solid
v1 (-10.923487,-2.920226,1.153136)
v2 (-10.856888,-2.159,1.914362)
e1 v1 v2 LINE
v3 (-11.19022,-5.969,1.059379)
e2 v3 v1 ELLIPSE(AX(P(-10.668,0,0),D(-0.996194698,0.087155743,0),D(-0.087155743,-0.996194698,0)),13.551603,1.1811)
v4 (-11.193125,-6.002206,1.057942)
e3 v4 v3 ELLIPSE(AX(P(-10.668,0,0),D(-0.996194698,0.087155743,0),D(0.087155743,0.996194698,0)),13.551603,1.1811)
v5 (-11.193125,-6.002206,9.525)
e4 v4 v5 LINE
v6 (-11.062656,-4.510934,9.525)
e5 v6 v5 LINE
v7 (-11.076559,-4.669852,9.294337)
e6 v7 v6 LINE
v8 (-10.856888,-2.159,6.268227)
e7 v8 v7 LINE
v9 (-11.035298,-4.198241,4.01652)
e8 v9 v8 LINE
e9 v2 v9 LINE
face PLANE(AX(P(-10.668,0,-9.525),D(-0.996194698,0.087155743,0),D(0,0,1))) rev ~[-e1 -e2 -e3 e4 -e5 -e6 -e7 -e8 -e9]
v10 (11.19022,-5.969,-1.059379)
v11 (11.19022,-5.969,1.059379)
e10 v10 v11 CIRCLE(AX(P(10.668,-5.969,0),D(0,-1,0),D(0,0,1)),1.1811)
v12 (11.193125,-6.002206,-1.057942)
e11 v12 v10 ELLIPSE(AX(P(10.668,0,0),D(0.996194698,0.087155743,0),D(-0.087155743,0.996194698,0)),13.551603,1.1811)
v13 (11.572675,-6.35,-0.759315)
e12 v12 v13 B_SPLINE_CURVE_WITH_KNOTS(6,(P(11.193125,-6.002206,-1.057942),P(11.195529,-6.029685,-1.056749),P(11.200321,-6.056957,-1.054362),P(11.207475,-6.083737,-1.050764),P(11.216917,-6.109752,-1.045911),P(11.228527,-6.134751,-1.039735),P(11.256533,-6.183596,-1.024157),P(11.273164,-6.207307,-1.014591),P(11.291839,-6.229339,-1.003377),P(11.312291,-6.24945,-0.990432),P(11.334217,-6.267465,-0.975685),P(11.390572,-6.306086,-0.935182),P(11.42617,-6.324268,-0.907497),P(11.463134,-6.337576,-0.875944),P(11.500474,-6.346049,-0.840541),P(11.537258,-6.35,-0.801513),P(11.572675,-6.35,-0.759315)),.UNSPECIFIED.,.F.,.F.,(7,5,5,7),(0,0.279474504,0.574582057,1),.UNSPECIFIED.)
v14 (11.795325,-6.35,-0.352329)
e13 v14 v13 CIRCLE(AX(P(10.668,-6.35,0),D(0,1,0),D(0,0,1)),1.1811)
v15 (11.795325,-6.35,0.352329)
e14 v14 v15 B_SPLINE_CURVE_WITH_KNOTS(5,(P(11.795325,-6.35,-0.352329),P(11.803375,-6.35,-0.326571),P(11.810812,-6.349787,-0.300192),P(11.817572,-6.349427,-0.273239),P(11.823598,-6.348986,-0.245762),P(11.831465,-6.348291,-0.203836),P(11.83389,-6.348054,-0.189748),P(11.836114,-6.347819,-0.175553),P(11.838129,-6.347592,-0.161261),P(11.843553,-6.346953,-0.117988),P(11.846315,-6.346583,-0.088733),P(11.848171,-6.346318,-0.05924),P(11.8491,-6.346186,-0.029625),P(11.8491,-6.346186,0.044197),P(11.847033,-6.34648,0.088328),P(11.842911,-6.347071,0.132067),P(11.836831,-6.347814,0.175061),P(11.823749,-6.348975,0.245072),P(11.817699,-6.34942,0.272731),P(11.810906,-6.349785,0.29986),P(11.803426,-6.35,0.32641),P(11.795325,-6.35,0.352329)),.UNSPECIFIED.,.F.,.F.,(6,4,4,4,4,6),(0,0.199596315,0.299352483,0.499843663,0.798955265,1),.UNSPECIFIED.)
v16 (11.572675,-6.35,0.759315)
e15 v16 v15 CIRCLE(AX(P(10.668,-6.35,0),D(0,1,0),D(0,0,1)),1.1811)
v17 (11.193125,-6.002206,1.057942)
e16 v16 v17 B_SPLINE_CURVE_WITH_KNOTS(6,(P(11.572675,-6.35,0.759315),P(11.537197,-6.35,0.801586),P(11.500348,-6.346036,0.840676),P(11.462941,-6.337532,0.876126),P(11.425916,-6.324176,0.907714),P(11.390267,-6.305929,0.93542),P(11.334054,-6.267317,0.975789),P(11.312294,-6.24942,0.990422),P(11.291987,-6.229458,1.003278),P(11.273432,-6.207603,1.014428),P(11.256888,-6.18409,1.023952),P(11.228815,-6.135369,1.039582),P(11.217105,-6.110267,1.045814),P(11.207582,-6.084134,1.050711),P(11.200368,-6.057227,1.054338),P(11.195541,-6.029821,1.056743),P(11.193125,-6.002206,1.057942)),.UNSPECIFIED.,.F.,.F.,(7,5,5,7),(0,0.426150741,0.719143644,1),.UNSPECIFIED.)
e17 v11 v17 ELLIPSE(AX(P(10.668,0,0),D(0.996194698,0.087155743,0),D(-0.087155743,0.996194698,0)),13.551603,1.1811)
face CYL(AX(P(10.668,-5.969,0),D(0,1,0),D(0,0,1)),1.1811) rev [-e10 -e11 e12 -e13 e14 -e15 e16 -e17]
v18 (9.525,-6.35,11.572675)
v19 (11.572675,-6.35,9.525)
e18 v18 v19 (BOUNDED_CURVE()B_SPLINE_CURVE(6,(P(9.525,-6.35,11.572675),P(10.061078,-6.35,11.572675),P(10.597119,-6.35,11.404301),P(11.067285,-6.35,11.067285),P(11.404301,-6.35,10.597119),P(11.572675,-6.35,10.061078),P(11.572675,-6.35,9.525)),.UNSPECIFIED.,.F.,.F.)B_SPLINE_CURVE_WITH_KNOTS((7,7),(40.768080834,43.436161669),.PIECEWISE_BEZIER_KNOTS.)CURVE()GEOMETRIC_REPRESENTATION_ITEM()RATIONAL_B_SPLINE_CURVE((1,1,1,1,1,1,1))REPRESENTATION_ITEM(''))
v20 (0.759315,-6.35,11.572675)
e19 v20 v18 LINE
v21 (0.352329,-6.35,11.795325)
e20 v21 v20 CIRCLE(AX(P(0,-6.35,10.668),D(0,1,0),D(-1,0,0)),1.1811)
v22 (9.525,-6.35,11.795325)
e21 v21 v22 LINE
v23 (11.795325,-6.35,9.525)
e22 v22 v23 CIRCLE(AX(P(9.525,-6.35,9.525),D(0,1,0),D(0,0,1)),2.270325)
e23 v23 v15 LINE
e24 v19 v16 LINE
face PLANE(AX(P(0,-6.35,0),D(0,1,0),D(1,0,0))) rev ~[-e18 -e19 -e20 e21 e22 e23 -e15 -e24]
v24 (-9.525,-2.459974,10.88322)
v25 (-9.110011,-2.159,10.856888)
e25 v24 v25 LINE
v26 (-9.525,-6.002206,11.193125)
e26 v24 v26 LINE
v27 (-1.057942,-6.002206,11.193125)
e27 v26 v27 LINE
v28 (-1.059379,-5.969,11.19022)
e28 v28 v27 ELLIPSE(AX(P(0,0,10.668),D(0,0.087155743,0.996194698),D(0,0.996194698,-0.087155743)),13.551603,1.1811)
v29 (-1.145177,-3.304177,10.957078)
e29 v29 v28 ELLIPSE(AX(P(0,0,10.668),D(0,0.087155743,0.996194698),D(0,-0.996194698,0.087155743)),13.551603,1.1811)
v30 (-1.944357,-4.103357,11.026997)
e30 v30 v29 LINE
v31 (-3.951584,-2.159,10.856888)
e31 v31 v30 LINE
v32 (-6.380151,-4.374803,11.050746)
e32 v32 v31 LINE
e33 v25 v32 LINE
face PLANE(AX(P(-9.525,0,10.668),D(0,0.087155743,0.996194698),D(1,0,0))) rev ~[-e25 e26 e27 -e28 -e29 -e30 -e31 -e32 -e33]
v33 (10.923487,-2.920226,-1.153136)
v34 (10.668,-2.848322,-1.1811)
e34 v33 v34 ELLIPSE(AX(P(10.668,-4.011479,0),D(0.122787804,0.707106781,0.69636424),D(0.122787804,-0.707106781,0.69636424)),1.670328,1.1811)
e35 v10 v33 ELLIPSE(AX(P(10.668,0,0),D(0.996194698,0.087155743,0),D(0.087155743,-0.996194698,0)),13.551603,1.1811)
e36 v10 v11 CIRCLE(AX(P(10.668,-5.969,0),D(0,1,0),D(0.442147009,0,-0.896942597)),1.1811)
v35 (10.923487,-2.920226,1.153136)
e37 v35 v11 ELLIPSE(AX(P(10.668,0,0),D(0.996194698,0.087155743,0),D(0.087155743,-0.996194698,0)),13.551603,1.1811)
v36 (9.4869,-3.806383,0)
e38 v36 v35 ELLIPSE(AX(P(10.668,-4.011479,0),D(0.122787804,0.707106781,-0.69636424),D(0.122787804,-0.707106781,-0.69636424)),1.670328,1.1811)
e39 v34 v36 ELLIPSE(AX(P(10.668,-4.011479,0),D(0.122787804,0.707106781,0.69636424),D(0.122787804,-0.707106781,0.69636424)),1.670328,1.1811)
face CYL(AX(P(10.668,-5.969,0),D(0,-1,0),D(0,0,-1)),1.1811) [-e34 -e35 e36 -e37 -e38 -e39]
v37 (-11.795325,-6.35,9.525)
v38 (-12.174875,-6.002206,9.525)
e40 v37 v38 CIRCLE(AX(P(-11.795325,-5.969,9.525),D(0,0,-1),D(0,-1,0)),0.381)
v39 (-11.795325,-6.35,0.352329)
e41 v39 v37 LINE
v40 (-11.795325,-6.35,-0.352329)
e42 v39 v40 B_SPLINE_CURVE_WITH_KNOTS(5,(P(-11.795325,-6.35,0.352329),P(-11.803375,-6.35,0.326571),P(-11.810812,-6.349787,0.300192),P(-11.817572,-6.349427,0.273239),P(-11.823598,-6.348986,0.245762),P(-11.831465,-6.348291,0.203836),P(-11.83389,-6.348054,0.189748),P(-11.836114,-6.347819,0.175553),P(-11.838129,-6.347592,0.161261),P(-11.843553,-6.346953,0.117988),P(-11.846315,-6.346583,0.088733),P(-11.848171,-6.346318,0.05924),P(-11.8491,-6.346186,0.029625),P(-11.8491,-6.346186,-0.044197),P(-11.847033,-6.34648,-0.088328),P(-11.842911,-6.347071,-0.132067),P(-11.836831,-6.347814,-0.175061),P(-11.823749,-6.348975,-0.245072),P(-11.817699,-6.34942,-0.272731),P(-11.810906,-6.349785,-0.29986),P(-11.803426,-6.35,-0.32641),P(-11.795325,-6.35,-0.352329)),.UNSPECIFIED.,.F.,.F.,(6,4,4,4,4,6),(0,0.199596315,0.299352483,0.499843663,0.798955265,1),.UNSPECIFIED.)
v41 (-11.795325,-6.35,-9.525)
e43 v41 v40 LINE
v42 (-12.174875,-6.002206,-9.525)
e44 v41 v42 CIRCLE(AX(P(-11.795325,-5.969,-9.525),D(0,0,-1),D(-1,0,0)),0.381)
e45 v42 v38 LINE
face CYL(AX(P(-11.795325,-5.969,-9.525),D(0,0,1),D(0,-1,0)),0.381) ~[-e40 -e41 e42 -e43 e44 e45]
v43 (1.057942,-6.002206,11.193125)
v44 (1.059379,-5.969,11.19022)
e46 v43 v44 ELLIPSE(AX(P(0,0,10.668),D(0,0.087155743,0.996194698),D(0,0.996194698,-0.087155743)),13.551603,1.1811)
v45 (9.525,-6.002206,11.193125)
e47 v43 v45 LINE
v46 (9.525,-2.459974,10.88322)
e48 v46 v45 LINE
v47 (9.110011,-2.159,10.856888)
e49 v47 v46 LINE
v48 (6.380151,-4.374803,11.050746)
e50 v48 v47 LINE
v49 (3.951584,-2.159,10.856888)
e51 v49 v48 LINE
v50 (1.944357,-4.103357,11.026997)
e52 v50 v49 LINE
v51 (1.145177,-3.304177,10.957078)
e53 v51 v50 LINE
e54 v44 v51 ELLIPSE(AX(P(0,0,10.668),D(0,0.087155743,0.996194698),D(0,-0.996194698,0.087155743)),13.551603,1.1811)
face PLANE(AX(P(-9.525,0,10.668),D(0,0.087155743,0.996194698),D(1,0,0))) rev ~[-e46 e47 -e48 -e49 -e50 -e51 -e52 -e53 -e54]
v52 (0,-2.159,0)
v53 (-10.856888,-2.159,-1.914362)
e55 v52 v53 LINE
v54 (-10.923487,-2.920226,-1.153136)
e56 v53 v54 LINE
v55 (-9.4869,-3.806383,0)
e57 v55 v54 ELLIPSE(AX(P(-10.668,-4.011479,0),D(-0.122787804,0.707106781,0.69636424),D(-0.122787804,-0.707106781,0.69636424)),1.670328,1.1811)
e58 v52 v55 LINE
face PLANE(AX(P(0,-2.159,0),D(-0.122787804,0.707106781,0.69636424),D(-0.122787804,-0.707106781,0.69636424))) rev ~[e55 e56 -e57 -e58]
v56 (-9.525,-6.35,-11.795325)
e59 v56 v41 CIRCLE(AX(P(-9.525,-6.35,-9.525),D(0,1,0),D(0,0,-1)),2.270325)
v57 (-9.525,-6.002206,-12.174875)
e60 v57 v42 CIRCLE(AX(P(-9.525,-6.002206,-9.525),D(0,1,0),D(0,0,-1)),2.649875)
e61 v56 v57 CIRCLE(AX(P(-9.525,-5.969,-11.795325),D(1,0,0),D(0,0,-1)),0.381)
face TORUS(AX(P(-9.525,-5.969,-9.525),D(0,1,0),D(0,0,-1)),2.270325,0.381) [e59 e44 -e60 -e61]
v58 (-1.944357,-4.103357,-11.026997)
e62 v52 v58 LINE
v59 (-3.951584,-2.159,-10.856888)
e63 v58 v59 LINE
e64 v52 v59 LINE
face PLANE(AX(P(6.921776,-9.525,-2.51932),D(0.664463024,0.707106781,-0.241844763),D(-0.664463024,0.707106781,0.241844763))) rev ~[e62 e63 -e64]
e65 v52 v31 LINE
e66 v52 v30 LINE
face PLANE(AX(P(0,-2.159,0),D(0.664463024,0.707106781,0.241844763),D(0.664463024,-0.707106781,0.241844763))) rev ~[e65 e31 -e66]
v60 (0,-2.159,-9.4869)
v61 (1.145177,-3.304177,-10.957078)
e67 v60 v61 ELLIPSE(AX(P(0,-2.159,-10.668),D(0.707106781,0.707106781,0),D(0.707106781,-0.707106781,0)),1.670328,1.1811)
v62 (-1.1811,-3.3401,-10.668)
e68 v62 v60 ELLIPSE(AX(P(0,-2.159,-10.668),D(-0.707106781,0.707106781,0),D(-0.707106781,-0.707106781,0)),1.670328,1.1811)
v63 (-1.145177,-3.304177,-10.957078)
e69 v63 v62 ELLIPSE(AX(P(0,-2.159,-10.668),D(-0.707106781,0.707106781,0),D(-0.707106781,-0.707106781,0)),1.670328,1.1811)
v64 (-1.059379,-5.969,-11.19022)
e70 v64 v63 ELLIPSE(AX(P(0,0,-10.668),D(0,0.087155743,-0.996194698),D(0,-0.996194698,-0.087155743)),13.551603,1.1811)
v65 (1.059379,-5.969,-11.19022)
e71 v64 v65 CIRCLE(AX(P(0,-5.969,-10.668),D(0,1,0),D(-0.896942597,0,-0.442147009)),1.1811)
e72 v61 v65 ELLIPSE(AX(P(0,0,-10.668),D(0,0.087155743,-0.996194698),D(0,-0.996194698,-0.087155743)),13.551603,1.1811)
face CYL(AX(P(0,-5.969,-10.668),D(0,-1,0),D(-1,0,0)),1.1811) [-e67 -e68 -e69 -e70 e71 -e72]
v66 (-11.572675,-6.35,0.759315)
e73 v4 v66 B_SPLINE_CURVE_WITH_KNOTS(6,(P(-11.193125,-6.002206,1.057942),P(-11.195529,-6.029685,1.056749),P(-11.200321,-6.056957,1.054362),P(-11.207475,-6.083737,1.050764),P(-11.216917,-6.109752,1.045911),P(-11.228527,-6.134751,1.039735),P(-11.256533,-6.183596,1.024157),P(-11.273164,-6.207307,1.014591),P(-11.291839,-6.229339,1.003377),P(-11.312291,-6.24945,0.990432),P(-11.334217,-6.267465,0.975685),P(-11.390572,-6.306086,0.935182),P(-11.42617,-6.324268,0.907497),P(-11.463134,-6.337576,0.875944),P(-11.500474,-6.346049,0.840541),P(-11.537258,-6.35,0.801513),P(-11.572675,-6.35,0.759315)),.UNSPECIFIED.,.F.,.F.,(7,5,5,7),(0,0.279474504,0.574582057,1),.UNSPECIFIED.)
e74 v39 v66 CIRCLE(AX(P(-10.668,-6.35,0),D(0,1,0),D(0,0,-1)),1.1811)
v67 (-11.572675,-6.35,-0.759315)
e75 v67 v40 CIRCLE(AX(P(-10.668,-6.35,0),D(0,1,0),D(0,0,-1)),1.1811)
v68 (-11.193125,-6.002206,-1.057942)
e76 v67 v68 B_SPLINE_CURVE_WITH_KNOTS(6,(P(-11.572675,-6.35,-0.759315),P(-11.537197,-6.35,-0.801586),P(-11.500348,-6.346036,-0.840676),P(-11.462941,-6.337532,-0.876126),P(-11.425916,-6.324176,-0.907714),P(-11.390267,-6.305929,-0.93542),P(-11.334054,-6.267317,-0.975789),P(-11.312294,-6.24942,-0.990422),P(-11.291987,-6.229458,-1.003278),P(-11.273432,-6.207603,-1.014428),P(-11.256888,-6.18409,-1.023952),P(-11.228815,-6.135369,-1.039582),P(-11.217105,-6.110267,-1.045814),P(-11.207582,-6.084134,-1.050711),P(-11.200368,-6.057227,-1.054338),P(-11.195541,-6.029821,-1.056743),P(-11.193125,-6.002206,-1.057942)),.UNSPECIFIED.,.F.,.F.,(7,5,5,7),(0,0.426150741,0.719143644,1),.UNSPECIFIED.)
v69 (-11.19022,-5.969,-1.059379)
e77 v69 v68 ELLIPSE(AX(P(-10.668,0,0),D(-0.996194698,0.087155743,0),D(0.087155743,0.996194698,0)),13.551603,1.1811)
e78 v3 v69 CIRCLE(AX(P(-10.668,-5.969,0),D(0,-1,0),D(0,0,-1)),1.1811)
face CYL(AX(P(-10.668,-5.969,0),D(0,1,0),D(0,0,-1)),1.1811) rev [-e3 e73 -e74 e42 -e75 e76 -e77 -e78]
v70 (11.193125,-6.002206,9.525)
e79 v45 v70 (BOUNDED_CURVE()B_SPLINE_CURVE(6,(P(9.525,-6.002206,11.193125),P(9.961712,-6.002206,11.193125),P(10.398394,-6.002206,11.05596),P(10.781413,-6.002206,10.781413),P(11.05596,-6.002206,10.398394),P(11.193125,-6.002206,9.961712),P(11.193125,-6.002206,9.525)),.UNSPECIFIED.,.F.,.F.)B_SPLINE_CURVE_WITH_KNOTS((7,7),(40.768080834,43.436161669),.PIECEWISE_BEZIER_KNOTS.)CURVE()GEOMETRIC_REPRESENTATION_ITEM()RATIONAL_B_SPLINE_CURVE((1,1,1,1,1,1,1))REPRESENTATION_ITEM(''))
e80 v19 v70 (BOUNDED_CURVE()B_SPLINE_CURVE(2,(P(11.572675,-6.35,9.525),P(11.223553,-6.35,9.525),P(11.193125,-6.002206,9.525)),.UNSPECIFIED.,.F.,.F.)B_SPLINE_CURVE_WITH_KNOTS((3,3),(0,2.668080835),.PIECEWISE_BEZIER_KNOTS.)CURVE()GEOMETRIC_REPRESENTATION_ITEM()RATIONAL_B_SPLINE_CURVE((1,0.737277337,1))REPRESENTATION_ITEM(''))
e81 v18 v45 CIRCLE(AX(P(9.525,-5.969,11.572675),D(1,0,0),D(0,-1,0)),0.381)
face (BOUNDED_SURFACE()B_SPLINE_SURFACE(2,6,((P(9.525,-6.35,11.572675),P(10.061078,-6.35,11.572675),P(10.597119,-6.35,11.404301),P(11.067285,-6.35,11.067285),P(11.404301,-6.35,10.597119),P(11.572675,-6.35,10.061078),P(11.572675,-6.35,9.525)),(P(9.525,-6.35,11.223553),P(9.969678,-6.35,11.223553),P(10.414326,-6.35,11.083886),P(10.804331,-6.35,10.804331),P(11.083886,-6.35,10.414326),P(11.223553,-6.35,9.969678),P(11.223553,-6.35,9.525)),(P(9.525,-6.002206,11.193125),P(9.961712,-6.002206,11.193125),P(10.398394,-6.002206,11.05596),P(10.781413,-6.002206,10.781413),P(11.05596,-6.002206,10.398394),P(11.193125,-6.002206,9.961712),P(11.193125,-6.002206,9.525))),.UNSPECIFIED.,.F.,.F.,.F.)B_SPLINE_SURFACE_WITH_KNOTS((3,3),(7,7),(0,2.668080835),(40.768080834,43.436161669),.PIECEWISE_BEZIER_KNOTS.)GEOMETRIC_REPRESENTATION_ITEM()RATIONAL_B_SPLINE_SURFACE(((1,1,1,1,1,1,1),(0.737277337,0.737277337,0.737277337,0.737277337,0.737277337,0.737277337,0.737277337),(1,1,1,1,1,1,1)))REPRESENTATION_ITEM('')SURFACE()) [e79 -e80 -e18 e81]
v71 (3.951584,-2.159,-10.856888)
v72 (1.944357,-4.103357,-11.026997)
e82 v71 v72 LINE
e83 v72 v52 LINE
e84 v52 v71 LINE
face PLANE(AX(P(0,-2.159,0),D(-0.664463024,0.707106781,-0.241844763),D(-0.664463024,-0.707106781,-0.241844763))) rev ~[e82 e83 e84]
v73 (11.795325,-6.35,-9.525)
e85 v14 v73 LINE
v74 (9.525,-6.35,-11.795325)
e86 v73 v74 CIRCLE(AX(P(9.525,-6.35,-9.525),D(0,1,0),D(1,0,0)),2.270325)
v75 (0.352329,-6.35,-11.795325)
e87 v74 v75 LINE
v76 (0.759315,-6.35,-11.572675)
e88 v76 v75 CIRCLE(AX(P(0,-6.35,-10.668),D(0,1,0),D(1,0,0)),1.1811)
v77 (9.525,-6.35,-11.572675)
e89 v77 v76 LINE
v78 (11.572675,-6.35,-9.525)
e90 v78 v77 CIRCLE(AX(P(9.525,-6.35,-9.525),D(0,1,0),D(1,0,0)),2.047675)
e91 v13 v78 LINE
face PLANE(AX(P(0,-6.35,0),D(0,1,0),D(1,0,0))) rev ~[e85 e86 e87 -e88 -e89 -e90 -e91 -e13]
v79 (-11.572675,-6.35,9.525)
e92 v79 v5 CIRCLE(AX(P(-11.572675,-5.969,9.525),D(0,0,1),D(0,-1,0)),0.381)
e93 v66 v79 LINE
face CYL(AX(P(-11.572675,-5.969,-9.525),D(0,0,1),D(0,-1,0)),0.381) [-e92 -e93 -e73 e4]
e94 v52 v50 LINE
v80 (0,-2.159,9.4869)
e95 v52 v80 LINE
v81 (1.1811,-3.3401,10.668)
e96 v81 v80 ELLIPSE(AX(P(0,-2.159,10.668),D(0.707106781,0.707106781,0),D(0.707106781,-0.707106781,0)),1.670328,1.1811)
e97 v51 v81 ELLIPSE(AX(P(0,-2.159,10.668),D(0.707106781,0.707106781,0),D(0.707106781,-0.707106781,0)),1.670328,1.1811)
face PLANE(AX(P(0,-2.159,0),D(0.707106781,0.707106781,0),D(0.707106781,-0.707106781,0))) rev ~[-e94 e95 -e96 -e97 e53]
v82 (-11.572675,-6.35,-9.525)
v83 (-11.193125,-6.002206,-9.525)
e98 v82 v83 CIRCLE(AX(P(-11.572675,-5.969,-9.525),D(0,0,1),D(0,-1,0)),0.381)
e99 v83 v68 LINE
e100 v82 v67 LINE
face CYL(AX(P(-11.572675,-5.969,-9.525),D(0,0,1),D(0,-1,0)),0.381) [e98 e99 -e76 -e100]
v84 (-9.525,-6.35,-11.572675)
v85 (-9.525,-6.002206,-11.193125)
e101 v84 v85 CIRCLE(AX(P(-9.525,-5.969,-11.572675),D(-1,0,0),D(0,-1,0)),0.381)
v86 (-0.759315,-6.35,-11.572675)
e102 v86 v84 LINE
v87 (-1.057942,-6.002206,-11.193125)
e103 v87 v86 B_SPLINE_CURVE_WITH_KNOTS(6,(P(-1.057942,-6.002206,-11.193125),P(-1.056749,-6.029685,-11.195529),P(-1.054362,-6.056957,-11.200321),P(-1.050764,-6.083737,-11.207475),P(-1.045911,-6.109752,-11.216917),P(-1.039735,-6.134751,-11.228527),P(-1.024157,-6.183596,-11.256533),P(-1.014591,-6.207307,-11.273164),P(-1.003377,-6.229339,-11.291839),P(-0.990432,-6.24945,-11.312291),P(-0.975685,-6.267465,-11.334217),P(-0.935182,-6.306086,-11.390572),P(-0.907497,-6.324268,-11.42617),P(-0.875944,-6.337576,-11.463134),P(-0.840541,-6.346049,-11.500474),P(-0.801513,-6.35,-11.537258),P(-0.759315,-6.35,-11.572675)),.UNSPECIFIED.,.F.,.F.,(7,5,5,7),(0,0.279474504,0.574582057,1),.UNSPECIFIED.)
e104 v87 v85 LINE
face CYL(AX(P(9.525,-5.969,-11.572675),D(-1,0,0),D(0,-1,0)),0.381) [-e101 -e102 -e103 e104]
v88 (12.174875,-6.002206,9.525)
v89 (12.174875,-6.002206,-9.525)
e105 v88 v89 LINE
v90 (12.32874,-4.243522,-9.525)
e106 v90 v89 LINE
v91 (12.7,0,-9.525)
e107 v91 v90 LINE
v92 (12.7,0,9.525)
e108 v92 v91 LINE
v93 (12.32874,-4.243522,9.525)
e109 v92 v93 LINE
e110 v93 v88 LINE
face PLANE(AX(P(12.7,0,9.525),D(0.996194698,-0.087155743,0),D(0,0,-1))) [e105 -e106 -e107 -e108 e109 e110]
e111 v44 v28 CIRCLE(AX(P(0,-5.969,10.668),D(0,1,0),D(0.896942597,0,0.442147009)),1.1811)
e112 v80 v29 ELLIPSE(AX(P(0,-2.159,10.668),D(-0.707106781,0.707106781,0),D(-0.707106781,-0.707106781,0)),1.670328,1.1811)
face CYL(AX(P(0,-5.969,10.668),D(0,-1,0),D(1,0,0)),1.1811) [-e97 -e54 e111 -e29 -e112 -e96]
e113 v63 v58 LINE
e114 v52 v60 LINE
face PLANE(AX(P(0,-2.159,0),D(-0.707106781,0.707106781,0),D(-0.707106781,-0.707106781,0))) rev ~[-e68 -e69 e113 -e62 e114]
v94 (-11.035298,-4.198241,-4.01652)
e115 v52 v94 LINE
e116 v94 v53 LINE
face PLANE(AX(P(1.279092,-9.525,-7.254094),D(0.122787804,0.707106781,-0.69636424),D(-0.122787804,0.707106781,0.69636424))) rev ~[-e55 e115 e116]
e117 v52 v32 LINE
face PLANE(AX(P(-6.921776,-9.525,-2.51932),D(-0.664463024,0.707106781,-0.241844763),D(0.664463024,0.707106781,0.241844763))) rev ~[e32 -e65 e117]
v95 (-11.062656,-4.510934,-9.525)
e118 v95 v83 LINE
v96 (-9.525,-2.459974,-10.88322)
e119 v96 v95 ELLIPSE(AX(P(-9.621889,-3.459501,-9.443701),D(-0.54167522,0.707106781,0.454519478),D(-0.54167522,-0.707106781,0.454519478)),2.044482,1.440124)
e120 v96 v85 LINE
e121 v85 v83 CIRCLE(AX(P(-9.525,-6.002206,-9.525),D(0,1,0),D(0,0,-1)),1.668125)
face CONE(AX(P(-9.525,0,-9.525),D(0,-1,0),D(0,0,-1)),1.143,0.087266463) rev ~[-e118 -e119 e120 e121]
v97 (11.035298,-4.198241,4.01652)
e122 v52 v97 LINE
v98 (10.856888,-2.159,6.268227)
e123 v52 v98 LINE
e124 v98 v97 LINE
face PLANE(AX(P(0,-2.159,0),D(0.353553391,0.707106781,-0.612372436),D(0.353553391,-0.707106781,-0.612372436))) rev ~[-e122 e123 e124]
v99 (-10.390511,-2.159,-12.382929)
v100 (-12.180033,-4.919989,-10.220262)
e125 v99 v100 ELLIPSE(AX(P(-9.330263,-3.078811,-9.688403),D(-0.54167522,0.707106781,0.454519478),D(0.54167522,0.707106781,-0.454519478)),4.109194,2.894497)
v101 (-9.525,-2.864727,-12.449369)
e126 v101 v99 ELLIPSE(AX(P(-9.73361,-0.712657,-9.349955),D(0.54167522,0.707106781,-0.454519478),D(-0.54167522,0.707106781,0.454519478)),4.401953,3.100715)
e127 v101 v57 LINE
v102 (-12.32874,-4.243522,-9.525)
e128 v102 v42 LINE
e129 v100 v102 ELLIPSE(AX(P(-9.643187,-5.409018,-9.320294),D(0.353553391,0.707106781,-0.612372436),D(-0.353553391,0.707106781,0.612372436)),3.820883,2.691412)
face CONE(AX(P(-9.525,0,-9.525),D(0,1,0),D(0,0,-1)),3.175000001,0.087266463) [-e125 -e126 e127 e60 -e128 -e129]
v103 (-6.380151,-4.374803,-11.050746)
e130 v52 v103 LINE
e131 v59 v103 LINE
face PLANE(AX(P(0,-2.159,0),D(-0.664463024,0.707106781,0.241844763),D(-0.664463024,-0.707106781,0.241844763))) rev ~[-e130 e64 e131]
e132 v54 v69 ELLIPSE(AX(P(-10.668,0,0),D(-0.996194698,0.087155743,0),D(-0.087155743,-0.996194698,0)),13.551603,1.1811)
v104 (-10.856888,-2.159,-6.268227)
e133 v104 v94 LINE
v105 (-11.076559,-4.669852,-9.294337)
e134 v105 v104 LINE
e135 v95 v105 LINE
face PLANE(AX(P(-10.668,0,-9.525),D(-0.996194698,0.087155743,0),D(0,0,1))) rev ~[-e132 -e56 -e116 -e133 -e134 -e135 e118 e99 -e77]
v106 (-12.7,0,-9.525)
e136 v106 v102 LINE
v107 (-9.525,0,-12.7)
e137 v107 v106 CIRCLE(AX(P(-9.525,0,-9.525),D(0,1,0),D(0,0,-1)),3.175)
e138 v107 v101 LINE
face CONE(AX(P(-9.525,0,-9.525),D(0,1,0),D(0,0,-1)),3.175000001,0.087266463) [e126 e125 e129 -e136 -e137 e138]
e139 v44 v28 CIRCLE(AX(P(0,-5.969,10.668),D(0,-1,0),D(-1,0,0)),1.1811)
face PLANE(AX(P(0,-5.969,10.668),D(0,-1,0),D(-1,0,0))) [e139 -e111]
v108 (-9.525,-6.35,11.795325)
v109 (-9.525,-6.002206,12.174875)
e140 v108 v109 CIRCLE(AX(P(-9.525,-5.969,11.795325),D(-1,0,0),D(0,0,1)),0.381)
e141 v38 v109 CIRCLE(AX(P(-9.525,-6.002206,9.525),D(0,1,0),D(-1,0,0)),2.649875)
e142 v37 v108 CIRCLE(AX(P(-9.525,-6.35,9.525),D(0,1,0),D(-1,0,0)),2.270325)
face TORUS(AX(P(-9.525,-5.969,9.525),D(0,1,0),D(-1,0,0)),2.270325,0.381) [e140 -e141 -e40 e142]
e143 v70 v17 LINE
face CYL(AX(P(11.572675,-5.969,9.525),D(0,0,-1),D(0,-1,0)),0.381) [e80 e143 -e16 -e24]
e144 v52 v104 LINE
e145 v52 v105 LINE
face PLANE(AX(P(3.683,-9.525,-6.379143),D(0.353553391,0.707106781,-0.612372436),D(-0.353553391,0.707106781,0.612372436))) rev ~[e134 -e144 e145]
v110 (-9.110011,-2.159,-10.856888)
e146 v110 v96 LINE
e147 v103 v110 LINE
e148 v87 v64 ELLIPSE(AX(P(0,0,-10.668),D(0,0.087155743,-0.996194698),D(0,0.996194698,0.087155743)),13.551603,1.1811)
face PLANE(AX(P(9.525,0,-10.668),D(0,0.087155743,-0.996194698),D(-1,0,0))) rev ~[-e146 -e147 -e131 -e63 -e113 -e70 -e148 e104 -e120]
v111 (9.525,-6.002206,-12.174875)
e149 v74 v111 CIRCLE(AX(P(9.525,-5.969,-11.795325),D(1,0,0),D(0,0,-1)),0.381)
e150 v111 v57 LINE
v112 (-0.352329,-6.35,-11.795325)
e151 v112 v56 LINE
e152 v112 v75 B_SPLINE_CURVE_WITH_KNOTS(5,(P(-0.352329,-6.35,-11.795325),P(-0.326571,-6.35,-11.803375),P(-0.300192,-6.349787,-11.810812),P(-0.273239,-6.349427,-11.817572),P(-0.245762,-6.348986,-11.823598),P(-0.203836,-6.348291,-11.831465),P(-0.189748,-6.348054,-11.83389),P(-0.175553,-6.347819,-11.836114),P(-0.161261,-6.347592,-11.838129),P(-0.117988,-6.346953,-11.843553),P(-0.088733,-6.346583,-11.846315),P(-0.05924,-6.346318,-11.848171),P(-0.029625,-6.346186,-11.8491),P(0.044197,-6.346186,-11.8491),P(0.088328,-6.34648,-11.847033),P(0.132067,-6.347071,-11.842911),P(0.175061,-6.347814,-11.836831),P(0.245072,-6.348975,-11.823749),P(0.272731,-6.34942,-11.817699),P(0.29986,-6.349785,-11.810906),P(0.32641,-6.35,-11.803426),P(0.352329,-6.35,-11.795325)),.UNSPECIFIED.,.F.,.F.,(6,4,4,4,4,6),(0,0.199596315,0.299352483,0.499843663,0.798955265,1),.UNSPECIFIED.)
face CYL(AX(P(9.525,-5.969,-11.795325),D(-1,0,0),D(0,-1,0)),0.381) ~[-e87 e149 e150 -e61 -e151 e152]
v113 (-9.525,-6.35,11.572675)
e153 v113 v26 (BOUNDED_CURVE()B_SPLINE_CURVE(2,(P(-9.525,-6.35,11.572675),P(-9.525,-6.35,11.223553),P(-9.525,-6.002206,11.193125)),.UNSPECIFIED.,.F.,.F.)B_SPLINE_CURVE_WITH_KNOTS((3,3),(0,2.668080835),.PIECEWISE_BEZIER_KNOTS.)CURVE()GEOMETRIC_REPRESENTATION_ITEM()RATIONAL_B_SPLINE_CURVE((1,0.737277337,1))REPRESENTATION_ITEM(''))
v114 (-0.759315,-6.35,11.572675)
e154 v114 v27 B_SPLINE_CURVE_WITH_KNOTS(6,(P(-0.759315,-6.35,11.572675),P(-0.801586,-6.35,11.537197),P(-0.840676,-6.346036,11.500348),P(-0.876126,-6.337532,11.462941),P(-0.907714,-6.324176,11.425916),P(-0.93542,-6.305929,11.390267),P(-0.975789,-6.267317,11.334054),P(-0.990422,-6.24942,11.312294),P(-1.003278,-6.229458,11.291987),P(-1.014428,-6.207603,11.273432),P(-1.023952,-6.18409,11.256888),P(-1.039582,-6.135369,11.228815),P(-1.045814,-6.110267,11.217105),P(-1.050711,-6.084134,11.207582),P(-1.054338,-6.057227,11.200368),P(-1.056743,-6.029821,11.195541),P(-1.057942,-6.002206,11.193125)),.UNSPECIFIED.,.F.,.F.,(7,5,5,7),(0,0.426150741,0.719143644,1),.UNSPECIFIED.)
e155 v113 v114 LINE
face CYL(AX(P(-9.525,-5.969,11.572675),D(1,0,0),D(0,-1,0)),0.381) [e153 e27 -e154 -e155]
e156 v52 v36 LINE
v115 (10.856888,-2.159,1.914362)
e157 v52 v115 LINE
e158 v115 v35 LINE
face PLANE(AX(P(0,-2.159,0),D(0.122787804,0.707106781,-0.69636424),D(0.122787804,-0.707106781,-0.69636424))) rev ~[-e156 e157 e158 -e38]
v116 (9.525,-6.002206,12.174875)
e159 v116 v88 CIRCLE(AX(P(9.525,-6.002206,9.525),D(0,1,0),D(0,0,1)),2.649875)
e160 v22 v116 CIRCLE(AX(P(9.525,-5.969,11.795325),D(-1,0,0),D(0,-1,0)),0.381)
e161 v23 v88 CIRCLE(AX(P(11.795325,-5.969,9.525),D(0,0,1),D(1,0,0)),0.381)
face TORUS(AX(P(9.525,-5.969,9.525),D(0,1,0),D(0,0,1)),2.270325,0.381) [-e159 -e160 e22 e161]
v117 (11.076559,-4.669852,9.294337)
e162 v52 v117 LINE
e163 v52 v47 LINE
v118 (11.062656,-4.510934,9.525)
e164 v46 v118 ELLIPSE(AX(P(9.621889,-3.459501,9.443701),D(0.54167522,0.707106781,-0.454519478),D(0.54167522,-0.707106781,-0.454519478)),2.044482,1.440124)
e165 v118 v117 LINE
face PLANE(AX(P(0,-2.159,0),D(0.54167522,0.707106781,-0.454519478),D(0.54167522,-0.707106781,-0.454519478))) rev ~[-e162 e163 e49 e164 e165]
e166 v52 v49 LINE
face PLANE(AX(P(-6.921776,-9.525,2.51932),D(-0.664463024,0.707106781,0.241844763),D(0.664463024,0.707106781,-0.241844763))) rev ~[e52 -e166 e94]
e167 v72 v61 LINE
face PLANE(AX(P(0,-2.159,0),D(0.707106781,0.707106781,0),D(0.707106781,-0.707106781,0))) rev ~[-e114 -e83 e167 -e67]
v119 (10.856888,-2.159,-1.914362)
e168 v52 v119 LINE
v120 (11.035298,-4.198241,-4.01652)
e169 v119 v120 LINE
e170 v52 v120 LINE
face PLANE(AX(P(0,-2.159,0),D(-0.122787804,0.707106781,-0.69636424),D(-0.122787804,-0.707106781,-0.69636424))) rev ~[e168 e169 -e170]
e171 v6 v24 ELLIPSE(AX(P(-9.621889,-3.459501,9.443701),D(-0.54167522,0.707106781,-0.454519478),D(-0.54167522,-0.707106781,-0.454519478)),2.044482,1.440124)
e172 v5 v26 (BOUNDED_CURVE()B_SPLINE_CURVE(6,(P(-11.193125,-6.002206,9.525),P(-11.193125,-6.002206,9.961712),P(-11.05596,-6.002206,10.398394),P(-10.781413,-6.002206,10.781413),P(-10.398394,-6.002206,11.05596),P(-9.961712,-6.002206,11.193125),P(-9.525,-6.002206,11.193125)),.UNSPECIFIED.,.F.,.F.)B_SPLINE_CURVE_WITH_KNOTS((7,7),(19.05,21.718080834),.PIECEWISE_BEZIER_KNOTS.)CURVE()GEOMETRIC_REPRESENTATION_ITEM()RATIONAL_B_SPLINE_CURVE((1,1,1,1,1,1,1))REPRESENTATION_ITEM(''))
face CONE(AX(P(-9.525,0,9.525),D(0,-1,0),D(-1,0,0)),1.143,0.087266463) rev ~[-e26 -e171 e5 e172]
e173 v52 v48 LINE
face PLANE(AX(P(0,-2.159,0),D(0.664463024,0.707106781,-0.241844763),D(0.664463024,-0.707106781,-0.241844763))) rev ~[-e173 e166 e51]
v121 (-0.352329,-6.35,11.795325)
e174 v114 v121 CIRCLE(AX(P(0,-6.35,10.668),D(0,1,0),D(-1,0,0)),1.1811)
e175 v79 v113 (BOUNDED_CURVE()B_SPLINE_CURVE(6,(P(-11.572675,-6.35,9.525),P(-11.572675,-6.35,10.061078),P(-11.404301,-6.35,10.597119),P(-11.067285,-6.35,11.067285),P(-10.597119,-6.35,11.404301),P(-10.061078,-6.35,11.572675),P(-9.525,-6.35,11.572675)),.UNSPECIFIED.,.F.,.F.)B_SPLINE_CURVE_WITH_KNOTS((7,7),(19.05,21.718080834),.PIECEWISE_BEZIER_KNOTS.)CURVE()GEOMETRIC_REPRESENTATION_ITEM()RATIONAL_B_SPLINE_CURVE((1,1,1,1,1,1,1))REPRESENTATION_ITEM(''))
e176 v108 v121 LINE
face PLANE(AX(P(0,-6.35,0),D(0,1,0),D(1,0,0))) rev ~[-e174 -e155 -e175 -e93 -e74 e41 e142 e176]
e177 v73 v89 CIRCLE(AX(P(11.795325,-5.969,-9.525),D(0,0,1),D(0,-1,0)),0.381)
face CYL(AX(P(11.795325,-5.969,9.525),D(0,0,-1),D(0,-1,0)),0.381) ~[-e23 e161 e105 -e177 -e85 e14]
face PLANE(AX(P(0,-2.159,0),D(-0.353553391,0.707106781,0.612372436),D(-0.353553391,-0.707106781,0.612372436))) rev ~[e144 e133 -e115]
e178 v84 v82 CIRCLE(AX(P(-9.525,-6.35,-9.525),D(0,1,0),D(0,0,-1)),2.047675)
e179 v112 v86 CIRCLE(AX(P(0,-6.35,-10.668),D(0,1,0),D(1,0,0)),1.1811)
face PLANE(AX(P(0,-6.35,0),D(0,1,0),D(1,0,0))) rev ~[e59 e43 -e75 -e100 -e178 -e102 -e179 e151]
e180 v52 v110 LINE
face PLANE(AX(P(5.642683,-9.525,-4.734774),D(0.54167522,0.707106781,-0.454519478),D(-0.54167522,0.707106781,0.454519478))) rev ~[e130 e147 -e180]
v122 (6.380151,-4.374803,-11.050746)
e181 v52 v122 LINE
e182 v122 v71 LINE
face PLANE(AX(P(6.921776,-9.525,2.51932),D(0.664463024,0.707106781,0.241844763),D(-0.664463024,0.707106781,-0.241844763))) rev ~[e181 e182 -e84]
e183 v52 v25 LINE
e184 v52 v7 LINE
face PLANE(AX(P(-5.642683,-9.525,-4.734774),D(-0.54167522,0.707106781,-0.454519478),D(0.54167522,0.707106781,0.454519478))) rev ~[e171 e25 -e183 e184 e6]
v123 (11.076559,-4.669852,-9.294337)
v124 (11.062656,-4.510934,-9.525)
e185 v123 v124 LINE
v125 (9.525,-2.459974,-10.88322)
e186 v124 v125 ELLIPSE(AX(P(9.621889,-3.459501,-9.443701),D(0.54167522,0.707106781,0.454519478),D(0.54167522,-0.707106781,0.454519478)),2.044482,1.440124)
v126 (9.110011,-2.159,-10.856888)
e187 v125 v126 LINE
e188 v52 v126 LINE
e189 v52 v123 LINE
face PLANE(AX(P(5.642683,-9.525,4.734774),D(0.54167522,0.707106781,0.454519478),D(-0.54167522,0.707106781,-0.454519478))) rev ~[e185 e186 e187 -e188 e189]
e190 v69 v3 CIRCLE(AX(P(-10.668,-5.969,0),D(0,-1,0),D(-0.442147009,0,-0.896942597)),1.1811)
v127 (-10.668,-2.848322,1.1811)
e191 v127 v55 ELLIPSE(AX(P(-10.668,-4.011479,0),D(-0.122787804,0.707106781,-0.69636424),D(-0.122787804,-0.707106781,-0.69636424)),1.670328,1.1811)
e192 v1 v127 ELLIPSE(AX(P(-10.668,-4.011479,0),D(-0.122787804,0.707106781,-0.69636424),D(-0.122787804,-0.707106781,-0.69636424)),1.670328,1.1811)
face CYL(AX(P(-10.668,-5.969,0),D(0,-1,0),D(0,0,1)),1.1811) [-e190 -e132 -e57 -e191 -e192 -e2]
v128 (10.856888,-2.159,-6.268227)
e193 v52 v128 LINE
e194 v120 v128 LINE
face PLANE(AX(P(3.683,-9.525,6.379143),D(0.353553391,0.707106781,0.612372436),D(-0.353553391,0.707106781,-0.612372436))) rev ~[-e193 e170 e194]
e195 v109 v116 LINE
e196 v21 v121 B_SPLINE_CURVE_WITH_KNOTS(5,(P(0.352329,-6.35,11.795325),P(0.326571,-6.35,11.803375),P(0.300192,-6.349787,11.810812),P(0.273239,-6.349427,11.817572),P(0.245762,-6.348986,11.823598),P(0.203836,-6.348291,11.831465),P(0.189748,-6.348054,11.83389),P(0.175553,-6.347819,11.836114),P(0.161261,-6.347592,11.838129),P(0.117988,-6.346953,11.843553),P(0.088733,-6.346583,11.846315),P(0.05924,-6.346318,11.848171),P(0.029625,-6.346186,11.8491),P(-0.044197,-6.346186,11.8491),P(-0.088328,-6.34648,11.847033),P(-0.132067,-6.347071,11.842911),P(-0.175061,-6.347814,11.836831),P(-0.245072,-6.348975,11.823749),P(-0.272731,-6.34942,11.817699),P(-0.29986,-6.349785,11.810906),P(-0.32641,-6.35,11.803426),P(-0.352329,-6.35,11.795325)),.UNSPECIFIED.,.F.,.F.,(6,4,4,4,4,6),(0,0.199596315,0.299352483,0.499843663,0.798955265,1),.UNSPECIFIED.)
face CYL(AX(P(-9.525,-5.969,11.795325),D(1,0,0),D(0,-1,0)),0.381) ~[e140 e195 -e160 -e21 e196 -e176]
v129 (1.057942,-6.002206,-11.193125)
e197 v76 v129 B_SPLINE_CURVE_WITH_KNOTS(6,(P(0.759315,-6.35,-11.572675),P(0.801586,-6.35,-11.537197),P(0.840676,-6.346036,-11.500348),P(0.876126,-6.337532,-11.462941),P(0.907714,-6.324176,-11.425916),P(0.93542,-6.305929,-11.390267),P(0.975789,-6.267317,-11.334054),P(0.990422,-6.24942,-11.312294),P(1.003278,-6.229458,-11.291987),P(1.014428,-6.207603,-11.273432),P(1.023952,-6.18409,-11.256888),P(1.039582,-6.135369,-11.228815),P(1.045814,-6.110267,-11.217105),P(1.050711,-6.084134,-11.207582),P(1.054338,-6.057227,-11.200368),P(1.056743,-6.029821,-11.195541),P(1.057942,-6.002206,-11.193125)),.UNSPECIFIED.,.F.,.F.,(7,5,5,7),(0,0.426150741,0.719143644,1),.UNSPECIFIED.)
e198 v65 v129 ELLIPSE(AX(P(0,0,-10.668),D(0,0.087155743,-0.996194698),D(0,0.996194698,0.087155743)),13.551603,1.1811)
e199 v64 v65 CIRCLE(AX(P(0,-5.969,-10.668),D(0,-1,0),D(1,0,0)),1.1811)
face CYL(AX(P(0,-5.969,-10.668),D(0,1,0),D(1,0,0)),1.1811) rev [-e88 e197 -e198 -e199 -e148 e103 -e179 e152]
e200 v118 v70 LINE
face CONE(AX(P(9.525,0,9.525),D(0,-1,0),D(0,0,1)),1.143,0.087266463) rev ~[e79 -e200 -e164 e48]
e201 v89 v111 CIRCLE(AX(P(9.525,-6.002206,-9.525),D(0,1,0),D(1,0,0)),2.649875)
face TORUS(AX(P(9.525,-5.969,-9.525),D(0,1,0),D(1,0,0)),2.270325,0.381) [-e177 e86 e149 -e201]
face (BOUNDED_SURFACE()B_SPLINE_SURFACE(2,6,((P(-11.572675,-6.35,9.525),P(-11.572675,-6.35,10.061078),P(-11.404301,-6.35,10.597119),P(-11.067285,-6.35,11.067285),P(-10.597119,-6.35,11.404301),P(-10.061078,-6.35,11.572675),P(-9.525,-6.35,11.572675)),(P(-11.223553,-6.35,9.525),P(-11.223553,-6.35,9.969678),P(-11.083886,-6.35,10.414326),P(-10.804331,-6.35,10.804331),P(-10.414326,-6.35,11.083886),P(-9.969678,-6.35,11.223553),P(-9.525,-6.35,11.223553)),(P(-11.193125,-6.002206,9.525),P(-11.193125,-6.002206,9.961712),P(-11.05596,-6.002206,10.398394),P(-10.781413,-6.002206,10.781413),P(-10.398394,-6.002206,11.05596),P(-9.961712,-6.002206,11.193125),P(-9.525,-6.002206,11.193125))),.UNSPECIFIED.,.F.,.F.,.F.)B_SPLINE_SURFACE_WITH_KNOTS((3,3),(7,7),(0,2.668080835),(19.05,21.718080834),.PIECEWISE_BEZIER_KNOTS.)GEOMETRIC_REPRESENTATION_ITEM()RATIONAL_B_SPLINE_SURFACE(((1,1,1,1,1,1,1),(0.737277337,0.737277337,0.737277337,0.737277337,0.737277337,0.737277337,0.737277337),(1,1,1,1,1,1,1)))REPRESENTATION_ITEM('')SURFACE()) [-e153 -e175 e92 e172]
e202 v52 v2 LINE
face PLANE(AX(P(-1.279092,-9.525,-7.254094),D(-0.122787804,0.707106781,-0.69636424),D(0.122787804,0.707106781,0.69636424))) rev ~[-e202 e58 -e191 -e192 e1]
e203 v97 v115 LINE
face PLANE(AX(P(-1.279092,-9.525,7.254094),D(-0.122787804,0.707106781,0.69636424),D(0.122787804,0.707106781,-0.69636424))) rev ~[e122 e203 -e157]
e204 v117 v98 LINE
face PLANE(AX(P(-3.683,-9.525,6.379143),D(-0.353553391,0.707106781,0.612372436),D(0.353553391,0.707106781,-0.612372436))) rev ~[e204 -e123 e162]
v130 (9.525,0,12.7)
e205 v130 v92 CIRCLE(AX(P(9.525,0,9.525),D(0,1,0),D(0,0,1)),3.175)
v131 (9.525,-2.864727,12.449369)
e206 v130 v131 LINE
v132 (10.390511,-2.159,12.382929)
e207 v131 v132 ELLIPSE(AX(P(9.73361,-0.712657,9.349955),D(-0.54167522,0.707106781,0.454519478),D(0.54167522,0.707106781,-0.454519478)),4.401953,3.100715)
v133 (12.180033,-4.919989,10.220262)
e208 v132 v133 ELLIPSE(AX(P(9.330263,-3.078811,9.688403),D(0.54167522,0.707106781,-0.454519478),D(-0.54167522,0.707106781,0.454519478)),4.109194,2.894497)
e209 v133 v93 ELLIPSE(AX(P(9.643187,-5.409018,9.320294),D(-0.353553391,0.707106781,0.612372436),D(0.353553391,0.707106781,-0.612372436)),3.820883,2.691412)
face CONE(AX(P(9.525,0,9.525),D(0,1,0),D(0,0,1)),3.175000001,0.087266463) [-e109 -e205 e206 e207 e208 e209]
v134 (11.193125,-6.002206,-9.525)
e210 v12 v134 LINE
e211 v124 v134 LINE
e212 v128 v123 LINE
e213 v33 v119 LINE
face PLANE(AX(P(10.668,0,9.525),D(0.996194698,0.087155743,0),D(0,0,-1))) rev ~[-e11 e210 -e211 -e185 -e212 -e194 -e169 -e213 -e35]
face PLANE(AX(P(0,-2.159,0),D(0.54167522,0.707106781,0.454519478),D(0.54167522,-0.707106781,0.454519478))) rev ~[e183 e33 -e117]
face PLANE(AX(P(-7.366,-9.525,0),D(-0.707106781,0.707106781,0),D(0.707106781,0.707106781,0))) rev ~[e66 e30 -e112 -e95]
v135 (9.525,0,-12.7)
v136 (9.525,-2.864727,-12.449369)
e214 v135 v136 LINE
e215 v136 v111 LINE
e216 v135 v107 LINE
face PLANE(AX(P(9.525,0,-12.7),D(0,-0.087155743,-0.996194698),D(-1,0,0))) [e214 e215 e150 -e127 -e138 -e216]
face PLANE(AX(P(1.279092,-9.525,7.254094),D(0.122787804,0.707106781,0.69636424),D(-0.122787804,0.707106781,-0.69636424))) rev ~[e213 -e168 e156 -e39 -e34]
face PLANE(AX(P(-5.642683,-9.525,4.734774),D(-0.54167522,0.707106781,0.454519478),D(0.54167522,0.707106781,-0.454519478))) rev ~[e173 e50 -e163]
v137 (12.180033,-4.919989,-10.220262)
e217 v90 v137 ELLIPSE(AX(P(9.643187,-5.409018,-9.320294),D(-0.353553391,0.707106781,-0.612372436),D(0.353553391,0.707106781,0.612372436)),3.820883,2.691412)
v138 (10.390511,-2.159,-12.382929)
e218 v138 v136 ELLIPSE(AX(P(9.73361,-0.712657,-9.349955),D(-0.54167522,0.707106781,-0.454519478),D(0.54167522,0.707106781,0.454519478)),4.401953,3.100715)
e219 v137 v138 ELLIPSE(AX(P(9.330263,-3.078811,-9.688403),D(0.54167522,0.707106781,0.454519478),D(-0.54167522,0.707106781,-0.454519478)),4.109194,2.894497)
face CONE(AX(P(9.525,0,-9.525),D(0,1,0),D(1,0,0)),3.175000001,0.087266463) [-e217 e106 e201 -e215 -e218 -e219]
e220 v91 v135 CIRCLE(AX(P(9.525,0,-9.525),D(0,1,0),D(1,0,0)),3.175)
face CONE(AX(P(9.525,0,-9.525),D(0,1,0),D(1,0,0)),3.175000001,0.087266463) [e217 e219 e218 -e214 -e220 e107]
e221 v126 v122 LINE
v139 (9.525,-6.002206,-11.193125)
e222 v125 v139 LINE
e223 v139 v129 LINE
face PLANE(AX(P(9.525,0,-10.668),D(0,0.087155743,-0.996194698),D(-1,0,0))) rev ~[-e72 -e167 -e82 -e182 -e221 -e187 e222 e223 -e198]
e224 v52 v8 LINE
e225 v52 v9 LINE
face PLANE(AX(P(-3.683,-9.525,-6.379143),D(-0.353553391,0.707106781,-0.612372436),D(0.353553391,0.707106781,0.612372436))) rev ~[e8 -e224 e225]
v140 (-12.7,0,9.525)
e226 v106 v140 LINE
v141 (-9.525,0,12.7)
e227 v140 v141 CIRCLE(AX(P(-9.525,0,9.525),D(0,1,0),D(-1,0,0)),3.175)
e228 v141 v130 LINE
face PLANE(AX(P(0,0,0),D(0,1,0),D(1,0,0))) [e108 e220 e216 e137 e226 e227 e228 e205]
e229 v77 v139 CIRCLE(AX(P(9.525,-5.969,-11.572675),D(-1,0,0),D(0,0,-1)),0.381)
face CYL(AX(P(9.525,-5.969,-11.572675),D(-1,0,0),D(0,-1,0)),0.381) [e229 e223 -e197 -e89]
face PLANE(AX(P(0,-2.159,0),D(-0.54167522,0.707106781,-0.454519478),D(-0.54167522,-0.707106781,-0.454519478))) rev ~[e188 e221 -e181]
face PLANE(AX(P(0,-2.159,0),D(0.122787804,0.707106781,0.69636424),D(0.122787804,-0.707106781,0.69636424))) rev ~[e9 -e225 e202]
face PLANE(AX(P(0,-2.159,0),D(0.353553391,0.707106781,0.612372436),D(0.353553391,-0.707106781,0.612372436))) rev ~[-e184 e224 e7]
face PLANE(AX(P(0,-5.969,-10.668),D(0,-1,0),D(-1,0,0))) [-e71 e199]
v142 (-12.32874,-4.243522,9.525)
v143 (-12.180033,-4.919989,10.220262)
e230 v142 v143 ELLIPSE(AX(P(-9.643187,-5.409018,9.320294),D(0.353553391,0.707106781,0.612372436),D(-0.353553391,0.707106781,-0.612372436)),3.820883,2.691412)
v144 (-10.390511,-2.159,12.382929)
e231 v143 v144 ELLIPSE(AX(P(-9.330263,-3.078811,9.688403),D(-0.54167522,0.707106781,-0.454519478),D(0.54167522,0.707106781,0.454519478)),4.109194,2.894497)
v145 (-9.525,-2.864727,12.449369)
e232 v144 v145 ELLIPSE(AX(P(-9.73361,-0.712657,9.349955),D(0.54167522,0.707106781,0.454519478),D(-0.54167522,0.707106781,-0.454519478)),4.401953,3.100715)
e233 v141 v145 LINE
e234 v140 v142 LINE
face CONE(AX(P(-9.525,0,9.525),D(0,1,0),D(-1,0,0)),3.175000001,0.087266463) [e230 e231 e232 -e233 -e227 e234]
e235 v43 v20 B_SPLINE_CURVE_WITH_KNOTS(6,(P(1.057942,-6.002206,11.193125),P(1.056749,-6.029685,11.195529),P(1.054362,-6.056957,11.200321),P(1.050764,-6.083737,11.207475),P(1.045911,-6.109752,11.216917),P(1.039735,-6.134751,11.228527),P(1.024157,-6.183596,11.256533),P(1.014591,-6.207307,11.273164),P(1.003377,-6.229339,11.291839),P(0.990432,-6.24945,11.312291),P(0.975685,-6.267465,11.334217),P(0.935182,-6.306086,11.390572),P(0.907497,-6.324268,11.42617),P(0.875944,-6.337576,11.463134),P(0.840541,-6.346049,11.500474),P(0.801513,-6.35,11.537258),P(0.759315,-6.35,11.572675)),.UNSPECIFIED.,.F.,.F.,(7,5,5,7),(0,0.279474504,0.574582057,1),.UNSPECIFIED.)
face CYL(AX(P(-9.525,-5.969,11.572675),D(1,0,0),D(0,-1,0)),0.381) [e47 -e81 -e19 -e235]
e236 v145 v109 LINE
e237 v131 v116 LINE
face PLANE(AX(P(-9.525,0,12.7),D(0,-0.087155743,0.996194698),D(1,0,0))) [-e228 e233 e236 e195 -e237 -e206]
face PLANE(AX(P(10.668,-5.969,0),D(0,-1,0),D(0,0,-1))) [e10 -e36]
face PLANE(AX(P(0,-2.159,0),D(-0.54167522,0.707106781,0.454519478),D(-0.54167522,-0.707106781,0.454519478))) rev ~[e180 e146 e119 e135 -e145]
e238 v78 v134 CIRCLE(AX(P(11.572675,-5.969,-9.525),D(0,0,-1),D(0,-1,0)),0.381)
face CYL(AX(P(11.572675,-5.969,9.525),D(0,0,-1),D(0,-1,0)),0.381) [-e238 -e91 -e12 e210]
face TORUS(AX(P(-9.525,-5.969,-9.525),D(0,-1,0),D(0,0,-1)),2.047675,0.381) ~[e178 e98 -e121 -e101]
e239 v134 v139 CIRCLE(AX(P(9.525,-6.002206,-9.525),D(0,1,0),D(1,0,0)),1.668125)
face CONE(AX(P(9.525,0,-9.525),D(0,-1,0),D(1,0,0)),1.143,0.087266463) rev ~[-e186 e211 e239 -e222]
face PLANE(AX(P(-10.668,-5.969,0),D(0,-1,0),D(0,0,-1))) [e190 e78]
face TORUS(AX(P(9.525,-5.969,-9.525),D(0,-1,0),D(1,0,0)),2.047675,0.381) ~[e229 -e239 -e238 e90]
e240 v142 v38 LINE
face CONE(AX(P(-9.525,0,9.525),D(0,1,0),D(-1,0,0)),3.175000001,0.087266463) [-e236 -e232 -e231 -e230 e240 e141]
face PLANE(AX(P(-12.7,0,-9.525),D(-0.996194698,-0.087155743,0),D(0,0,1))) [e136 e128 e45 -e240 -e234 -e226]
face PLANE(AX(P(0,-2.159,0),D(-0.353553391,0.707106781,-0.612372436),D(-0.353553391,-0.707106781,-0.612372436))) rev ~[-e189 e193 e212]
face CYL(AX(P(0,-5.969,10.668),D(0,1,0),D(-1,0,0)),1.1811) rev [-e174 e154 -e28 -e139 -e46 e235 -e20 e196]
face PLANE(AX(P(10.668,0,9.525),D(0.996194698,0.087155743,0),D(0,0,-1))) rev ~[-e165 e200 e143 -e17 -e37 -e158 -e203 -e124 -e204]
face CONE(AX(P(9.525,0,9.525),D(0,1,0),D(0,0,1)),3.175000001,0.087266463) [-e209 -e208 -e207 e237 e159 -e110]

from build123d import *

# Parameters (mm, degrees)
BOSS_EXTRUDE1_DEPTH = 6.35
BOSS_EXTRUDE1_DRAFT = -5
CUT_EXTRUDE3_DEPTH  = 20.05
CIRPATTERN3_COUNT   = 18
BOSS_EXTRUDE3_DEPTH = 6.35
BOSS_EXTRUDE3_DRAFT = -5
FILLET2_R           = 0.381
BOSS_EXTRUDE4_REACH = 20.926
SKETCH8_R           = 1.1811
SKETCH9_R           = 1.1811
CUT_EXTRUDE4_DEPTH  = 19.926409089
CIRPATTERN4_COUNT   = 4


with BuildPart() as part:
    # Sketch1 → Boss-Extrude1 (with draft: the straight prism first)
    with BuildSketch(Plane(origin=(0, 0, 0), x_dir=(1, 0, 0), z_dir=(0, 1, 0))):
        with BuildLine():
            Line((-9.525, -12.7), (9.525, -12.7))
            ThreePointArc((9.525, -12.7), (11.77006403, -11.77006403), (12.7, -9.525))
            Line((12.7, -9.525), (12.7, 9.525))
            ThreePointArc((12.7, 9.525), (11.77006403, 11.77006403), (9.525, 12.7))
            Line((9.525, 12.7), (-9.525, 12.7))
            ThreePointArc((-9.525, 12.7), (-11.77006403, 11.77006403), (-12.7, 9.525))
            Line((-12.7, 9.525), (-12.7, -9.525))
            ThreePointArc((-12.7, -9.525), (-11.77006403, -11.77006403), (-9.525, -12.7))
        make_face()
    extrude(amount=-BOSS_EXTRUDE1_DEPTH)
    # Boss-Extrude1: the draft: its side faces are tilted about the plane it starts from
    boss_extrude1_sides = [part.faces().sort_by_distance(p)[0] for p in [
        (0, -3.175, 12.7),
        (11.77006403, -3.175, 11.77006403),
        (12.7, -3.175, 0),
        (11.77006403, -3.175, -11.77006403),
        (0, -3.175, -12.7),
        (-11.77006403, -3.175, -11.77006403),
        (-12.7, -3.175, 0),
        (-11.77006403, -3.175, 11.77006403),
    ]]
    draft(boss_extrude1_sides, Plane(origin=(0, 0, 0), x_dir=(1, 0, 0), z_dir=(0, 1, 0)), BOSS_EXTRUDE1_DRAFT)

    # Sketch6 → Cut-Extrude3 (cut, through all)
    with BuildSketch(Plane.XY):
        Polygon((0, -2.159), (-7.366, -9.525), (7.366, -9.525), align=None)
    cut_extrude3 = extrude(amount=-CUT_EXTRUDE3_DEPTH, mode=Mode.SUBTRACT)

    # CirPattern3: Cut-Extrude3 ×18 about axis
    cirpattern3_axis = Axis((0, 0, 0), (0, 1, 0))
    for i in range(1, CIRPATTERN3_COUNT):
        add(cut_extrude3.rotate(cirpattern3_axis, i * 360 / CIRPATTERN3_COUNT), mode=Mode.SUBTRACT)


with BuildPart() as boss_extrude3_tool:
    # Sketch7 → Boss-Extrude3 (with draft: the straight prism first)
    with BuildSketch(Plane(origin=(0, 0, 0), x_dir=(1, 0, 0), z_dir=(0, 1, 0))):
        with BuildLine():
            Line((-9.525, -12.7), (9.525, -12.7))
            ThreePointArc((9.525, -12.7), (11.77006403, -11.77006403), (12.7, -9.525))
            Line((12.7, -9.525), (12.7, 9.525))
            ThreePointArc((12.7, 9.525), (11.77006403, 11.77006403), (9.525, 12.7))
            Line((9.525, 12.7), (-9.525, 12.7))
            ThreePointArc((-9.525, 12.7), (-11.77006403, 11.77006403), (-12.7, 9.525))
            Line((-12.7, 9.525), (-12.7, -9.525))
            ThreePointArc((-12.7, -9.525), (-11.77006403, -11.77006403), (-9.525, -12.7))
        make_face()
        with BuildLine():
            Line((-9.525, -10.668), (9.525, -10.668))
            ThreePointArc((9.525, -10.668), (10.333223051, -10.333223051), (10.668, -9.525))
            Line((10.668, -9.525), (10.668, 9.525))
            ThreePointArc((10.668, 9.525), (10.333223051, 10.333223051), (9.525, 10.668))
            Line((9.525, 10.668), (-9.525, 10.668))
            ThreePointArc((-9.525, 10.668), (-10.333223051, 10.333223051), (-10.668, 9.525))
            Line((-10.668, 9.525), (-10.668, -9.525))
            ThreePointArc((-10.668, -9.525), (-10.333223051, -10.333223051), (-9.525, -10.668))
        make_face(mode=Mode.SUBTRACT)
    extrude(amount=-BOSS_EXTRUDE3_DEPTH)
    # Boss-Extrude3: the draft: its side faces are tilted about the plane it starts from
    boss_extrude3_sides = [boss_extrude3_tool.faces().sort_by_distance(p)[0] for p in [
        (0, -3.175, 12.7),
        (11.77006403, -3.175, 11.77006403),
        (12.7, -3.175, 0),
        (11.77006403, -3.175, -11.77006403),
        (0, -3.175, -12.7),
        (-11.77006403, -3.175, -11.77006403),
        (-12.7, -3.175, 0),
        (-11.77006403, -3.175, 11.77006403),
        (-10.333223051, -3.175, 10.333223051),
        (-10.668, -3.175, 0),
        (-10.333223051, -3.175, -10.333223051),
        (0, -3.175, -10.668),
        (10.333223051, -3.175, -10.333223051),
        (10.668, -3.175, 0),
        (10.333223051, -3.175, 10.333223051),
        (0, -3.175, 10.668),
    ]]
    draft(boss_extrude3_sides, Plane(origin=(0, 0, 0), x_dir=(1, 0, 0), z_dir=(0, 1, 0)), BOSS_EXTRUDE3_DRAFT)


with BuildPart() as part_1:
    add(part.part)

    # Boss-Extrude3: add boss_extrude3_tool
    add(boss_extrude3_tool.part)

    # Fillet2
    fillet2_edges = [part_1.edges().sort_by_distance(p)[0] for p in [
        (-11.377228727, -6.35, -11.377228727),
        (-11.377228727, -6.35, 11.377228727),
        (-12.144446987, -6.35, 0),
        (0, -6.35, 12.144446987),
        (11.377228727, -6.35, 11.377228727),
        (12.144446987, -6.35, 0),
        (11.377228727, -6.35, -11.377228727),
        (0, -6.35, -12.144446987),
        (-11.223553013, -6.35, 0),
        (-10.726058354, -6.35, 10.726058354),
        (0, -6.35, 11.223553013),
        (10.726058354, -6.35, 10.726058354),
        (11.223553013, -6.35, 0),
        (10.726058354, -6.35, -10.726058354),
        (0, -6.35, -11.223553013),
        (-10.726058354, -6.35, -10.726058354),
    ]]
    fillet(fillet2_edges, radius=FILLET2_R)

    # Sketch8 → Boss-Extrude4 (add, up to next)
    with BuildSketch(Plane(origin=(0, -5.969, 0), x_dir=(-1, 0, 0), z_dir=(0, -1, 0)), mode=Mode.PRIVATE) as boss_extrude4_sk1:
        with Locations((0, 10.668)):
            Circle(SKETCH8_R)
    boss_extrude4_tool1 = extrude(boss_extrude4_sk1.sketch, amount=-BOSS_EXTRUDE4_REACH, mode=Mode.PRIVATE) - part_1.part
    boss_extrude4 = boss_extrude4_tool1.solids().sort_by_distance((0, -5.969, -10.668))[0]
    add(boss_extrude4)

    # Sketch9 → Cut-Extrude4 (cut, through all)
    with BuildSketch(Plane.XZ.offset(5.969)):
        with Locations((0, -10.668)):
            Circle(SKETCH9_R)
    cut_extrude4 = extrude(amount=CUT_EXTRUDE4_DEPTH, mode=Mode.SUBTRACT)

    # CirPattern4: Boss-Extrude4, Cut-Extrude4; each copy of Boss-Extrude4 runs up to whatever stops it at its own place
    cirpattern4_before = part_1.part  # the part as the pattern finds it: every copy runs up to it
    cirpattern4_boss_extrude4_long = extrude(boss_extrude4_sk1.sketch, amount=-BOSS_EXTRUDE4_REACH, mode=Mode.PRIVATE)
    cirpattern4_boss_extrude4_tool = cirpattern4_boss_extrude4_long.rotate(Axis((0, 0, 0), (0, 1, 0)), 1 * 360 / CIRPATTERN4_COUNT) - cirpattern4_before
    add(cirpattern4_boss_extrude4_tool.solids().sort_by_distance((-10.668, -5.969, 0))[0])
    cirpattern4_boss_extrude4_tool = cirpattern4_boss_extrude4_long.rotate(Axis((0, 0, 0), (0, 1, 0)), 2 * 360 / CIRPATTERN4_COUNT) - cirpattern4_before
    add(cirpattern4_boss_extrude4_tool.solids().sort_by_distance((0, -5.969, 10.668))[0])
    cirpattern4_boss_extrude4_tool = cirpattern4_boss_extrude4_long.rotate(Axis((0, 0, 0), (0, 1, 0)), 3 * 360 / CIRPATTERN4_COUNT) - cirpattern4_before
    add(cirpattern4_boss_extrude4_tool.solids().sort_by_distance((10.668, -5.969, 0))[0])
    add(cut_extrude4.rotate(Axis((0, 0, 0), (0, 1, 0)), 1 * 360 / CIRPATTERN4_COUNT), mode=Mode.SUBTRACT)
    add(cut_extrude4.rotate(Axis((0, 0, 0), (0, 1, 0)), 2 * 360 / CIRPATTERN4_COUNT), mode=Mode.SUBTRACT)
    add(cut_extrude4.rotate(Axis((0, 0, 0), (0, 1, 0)), 3 * 360 / CIRPATTERN4_COUNT), mode=Mode.SUBTRACT)


solid = part_1.part
